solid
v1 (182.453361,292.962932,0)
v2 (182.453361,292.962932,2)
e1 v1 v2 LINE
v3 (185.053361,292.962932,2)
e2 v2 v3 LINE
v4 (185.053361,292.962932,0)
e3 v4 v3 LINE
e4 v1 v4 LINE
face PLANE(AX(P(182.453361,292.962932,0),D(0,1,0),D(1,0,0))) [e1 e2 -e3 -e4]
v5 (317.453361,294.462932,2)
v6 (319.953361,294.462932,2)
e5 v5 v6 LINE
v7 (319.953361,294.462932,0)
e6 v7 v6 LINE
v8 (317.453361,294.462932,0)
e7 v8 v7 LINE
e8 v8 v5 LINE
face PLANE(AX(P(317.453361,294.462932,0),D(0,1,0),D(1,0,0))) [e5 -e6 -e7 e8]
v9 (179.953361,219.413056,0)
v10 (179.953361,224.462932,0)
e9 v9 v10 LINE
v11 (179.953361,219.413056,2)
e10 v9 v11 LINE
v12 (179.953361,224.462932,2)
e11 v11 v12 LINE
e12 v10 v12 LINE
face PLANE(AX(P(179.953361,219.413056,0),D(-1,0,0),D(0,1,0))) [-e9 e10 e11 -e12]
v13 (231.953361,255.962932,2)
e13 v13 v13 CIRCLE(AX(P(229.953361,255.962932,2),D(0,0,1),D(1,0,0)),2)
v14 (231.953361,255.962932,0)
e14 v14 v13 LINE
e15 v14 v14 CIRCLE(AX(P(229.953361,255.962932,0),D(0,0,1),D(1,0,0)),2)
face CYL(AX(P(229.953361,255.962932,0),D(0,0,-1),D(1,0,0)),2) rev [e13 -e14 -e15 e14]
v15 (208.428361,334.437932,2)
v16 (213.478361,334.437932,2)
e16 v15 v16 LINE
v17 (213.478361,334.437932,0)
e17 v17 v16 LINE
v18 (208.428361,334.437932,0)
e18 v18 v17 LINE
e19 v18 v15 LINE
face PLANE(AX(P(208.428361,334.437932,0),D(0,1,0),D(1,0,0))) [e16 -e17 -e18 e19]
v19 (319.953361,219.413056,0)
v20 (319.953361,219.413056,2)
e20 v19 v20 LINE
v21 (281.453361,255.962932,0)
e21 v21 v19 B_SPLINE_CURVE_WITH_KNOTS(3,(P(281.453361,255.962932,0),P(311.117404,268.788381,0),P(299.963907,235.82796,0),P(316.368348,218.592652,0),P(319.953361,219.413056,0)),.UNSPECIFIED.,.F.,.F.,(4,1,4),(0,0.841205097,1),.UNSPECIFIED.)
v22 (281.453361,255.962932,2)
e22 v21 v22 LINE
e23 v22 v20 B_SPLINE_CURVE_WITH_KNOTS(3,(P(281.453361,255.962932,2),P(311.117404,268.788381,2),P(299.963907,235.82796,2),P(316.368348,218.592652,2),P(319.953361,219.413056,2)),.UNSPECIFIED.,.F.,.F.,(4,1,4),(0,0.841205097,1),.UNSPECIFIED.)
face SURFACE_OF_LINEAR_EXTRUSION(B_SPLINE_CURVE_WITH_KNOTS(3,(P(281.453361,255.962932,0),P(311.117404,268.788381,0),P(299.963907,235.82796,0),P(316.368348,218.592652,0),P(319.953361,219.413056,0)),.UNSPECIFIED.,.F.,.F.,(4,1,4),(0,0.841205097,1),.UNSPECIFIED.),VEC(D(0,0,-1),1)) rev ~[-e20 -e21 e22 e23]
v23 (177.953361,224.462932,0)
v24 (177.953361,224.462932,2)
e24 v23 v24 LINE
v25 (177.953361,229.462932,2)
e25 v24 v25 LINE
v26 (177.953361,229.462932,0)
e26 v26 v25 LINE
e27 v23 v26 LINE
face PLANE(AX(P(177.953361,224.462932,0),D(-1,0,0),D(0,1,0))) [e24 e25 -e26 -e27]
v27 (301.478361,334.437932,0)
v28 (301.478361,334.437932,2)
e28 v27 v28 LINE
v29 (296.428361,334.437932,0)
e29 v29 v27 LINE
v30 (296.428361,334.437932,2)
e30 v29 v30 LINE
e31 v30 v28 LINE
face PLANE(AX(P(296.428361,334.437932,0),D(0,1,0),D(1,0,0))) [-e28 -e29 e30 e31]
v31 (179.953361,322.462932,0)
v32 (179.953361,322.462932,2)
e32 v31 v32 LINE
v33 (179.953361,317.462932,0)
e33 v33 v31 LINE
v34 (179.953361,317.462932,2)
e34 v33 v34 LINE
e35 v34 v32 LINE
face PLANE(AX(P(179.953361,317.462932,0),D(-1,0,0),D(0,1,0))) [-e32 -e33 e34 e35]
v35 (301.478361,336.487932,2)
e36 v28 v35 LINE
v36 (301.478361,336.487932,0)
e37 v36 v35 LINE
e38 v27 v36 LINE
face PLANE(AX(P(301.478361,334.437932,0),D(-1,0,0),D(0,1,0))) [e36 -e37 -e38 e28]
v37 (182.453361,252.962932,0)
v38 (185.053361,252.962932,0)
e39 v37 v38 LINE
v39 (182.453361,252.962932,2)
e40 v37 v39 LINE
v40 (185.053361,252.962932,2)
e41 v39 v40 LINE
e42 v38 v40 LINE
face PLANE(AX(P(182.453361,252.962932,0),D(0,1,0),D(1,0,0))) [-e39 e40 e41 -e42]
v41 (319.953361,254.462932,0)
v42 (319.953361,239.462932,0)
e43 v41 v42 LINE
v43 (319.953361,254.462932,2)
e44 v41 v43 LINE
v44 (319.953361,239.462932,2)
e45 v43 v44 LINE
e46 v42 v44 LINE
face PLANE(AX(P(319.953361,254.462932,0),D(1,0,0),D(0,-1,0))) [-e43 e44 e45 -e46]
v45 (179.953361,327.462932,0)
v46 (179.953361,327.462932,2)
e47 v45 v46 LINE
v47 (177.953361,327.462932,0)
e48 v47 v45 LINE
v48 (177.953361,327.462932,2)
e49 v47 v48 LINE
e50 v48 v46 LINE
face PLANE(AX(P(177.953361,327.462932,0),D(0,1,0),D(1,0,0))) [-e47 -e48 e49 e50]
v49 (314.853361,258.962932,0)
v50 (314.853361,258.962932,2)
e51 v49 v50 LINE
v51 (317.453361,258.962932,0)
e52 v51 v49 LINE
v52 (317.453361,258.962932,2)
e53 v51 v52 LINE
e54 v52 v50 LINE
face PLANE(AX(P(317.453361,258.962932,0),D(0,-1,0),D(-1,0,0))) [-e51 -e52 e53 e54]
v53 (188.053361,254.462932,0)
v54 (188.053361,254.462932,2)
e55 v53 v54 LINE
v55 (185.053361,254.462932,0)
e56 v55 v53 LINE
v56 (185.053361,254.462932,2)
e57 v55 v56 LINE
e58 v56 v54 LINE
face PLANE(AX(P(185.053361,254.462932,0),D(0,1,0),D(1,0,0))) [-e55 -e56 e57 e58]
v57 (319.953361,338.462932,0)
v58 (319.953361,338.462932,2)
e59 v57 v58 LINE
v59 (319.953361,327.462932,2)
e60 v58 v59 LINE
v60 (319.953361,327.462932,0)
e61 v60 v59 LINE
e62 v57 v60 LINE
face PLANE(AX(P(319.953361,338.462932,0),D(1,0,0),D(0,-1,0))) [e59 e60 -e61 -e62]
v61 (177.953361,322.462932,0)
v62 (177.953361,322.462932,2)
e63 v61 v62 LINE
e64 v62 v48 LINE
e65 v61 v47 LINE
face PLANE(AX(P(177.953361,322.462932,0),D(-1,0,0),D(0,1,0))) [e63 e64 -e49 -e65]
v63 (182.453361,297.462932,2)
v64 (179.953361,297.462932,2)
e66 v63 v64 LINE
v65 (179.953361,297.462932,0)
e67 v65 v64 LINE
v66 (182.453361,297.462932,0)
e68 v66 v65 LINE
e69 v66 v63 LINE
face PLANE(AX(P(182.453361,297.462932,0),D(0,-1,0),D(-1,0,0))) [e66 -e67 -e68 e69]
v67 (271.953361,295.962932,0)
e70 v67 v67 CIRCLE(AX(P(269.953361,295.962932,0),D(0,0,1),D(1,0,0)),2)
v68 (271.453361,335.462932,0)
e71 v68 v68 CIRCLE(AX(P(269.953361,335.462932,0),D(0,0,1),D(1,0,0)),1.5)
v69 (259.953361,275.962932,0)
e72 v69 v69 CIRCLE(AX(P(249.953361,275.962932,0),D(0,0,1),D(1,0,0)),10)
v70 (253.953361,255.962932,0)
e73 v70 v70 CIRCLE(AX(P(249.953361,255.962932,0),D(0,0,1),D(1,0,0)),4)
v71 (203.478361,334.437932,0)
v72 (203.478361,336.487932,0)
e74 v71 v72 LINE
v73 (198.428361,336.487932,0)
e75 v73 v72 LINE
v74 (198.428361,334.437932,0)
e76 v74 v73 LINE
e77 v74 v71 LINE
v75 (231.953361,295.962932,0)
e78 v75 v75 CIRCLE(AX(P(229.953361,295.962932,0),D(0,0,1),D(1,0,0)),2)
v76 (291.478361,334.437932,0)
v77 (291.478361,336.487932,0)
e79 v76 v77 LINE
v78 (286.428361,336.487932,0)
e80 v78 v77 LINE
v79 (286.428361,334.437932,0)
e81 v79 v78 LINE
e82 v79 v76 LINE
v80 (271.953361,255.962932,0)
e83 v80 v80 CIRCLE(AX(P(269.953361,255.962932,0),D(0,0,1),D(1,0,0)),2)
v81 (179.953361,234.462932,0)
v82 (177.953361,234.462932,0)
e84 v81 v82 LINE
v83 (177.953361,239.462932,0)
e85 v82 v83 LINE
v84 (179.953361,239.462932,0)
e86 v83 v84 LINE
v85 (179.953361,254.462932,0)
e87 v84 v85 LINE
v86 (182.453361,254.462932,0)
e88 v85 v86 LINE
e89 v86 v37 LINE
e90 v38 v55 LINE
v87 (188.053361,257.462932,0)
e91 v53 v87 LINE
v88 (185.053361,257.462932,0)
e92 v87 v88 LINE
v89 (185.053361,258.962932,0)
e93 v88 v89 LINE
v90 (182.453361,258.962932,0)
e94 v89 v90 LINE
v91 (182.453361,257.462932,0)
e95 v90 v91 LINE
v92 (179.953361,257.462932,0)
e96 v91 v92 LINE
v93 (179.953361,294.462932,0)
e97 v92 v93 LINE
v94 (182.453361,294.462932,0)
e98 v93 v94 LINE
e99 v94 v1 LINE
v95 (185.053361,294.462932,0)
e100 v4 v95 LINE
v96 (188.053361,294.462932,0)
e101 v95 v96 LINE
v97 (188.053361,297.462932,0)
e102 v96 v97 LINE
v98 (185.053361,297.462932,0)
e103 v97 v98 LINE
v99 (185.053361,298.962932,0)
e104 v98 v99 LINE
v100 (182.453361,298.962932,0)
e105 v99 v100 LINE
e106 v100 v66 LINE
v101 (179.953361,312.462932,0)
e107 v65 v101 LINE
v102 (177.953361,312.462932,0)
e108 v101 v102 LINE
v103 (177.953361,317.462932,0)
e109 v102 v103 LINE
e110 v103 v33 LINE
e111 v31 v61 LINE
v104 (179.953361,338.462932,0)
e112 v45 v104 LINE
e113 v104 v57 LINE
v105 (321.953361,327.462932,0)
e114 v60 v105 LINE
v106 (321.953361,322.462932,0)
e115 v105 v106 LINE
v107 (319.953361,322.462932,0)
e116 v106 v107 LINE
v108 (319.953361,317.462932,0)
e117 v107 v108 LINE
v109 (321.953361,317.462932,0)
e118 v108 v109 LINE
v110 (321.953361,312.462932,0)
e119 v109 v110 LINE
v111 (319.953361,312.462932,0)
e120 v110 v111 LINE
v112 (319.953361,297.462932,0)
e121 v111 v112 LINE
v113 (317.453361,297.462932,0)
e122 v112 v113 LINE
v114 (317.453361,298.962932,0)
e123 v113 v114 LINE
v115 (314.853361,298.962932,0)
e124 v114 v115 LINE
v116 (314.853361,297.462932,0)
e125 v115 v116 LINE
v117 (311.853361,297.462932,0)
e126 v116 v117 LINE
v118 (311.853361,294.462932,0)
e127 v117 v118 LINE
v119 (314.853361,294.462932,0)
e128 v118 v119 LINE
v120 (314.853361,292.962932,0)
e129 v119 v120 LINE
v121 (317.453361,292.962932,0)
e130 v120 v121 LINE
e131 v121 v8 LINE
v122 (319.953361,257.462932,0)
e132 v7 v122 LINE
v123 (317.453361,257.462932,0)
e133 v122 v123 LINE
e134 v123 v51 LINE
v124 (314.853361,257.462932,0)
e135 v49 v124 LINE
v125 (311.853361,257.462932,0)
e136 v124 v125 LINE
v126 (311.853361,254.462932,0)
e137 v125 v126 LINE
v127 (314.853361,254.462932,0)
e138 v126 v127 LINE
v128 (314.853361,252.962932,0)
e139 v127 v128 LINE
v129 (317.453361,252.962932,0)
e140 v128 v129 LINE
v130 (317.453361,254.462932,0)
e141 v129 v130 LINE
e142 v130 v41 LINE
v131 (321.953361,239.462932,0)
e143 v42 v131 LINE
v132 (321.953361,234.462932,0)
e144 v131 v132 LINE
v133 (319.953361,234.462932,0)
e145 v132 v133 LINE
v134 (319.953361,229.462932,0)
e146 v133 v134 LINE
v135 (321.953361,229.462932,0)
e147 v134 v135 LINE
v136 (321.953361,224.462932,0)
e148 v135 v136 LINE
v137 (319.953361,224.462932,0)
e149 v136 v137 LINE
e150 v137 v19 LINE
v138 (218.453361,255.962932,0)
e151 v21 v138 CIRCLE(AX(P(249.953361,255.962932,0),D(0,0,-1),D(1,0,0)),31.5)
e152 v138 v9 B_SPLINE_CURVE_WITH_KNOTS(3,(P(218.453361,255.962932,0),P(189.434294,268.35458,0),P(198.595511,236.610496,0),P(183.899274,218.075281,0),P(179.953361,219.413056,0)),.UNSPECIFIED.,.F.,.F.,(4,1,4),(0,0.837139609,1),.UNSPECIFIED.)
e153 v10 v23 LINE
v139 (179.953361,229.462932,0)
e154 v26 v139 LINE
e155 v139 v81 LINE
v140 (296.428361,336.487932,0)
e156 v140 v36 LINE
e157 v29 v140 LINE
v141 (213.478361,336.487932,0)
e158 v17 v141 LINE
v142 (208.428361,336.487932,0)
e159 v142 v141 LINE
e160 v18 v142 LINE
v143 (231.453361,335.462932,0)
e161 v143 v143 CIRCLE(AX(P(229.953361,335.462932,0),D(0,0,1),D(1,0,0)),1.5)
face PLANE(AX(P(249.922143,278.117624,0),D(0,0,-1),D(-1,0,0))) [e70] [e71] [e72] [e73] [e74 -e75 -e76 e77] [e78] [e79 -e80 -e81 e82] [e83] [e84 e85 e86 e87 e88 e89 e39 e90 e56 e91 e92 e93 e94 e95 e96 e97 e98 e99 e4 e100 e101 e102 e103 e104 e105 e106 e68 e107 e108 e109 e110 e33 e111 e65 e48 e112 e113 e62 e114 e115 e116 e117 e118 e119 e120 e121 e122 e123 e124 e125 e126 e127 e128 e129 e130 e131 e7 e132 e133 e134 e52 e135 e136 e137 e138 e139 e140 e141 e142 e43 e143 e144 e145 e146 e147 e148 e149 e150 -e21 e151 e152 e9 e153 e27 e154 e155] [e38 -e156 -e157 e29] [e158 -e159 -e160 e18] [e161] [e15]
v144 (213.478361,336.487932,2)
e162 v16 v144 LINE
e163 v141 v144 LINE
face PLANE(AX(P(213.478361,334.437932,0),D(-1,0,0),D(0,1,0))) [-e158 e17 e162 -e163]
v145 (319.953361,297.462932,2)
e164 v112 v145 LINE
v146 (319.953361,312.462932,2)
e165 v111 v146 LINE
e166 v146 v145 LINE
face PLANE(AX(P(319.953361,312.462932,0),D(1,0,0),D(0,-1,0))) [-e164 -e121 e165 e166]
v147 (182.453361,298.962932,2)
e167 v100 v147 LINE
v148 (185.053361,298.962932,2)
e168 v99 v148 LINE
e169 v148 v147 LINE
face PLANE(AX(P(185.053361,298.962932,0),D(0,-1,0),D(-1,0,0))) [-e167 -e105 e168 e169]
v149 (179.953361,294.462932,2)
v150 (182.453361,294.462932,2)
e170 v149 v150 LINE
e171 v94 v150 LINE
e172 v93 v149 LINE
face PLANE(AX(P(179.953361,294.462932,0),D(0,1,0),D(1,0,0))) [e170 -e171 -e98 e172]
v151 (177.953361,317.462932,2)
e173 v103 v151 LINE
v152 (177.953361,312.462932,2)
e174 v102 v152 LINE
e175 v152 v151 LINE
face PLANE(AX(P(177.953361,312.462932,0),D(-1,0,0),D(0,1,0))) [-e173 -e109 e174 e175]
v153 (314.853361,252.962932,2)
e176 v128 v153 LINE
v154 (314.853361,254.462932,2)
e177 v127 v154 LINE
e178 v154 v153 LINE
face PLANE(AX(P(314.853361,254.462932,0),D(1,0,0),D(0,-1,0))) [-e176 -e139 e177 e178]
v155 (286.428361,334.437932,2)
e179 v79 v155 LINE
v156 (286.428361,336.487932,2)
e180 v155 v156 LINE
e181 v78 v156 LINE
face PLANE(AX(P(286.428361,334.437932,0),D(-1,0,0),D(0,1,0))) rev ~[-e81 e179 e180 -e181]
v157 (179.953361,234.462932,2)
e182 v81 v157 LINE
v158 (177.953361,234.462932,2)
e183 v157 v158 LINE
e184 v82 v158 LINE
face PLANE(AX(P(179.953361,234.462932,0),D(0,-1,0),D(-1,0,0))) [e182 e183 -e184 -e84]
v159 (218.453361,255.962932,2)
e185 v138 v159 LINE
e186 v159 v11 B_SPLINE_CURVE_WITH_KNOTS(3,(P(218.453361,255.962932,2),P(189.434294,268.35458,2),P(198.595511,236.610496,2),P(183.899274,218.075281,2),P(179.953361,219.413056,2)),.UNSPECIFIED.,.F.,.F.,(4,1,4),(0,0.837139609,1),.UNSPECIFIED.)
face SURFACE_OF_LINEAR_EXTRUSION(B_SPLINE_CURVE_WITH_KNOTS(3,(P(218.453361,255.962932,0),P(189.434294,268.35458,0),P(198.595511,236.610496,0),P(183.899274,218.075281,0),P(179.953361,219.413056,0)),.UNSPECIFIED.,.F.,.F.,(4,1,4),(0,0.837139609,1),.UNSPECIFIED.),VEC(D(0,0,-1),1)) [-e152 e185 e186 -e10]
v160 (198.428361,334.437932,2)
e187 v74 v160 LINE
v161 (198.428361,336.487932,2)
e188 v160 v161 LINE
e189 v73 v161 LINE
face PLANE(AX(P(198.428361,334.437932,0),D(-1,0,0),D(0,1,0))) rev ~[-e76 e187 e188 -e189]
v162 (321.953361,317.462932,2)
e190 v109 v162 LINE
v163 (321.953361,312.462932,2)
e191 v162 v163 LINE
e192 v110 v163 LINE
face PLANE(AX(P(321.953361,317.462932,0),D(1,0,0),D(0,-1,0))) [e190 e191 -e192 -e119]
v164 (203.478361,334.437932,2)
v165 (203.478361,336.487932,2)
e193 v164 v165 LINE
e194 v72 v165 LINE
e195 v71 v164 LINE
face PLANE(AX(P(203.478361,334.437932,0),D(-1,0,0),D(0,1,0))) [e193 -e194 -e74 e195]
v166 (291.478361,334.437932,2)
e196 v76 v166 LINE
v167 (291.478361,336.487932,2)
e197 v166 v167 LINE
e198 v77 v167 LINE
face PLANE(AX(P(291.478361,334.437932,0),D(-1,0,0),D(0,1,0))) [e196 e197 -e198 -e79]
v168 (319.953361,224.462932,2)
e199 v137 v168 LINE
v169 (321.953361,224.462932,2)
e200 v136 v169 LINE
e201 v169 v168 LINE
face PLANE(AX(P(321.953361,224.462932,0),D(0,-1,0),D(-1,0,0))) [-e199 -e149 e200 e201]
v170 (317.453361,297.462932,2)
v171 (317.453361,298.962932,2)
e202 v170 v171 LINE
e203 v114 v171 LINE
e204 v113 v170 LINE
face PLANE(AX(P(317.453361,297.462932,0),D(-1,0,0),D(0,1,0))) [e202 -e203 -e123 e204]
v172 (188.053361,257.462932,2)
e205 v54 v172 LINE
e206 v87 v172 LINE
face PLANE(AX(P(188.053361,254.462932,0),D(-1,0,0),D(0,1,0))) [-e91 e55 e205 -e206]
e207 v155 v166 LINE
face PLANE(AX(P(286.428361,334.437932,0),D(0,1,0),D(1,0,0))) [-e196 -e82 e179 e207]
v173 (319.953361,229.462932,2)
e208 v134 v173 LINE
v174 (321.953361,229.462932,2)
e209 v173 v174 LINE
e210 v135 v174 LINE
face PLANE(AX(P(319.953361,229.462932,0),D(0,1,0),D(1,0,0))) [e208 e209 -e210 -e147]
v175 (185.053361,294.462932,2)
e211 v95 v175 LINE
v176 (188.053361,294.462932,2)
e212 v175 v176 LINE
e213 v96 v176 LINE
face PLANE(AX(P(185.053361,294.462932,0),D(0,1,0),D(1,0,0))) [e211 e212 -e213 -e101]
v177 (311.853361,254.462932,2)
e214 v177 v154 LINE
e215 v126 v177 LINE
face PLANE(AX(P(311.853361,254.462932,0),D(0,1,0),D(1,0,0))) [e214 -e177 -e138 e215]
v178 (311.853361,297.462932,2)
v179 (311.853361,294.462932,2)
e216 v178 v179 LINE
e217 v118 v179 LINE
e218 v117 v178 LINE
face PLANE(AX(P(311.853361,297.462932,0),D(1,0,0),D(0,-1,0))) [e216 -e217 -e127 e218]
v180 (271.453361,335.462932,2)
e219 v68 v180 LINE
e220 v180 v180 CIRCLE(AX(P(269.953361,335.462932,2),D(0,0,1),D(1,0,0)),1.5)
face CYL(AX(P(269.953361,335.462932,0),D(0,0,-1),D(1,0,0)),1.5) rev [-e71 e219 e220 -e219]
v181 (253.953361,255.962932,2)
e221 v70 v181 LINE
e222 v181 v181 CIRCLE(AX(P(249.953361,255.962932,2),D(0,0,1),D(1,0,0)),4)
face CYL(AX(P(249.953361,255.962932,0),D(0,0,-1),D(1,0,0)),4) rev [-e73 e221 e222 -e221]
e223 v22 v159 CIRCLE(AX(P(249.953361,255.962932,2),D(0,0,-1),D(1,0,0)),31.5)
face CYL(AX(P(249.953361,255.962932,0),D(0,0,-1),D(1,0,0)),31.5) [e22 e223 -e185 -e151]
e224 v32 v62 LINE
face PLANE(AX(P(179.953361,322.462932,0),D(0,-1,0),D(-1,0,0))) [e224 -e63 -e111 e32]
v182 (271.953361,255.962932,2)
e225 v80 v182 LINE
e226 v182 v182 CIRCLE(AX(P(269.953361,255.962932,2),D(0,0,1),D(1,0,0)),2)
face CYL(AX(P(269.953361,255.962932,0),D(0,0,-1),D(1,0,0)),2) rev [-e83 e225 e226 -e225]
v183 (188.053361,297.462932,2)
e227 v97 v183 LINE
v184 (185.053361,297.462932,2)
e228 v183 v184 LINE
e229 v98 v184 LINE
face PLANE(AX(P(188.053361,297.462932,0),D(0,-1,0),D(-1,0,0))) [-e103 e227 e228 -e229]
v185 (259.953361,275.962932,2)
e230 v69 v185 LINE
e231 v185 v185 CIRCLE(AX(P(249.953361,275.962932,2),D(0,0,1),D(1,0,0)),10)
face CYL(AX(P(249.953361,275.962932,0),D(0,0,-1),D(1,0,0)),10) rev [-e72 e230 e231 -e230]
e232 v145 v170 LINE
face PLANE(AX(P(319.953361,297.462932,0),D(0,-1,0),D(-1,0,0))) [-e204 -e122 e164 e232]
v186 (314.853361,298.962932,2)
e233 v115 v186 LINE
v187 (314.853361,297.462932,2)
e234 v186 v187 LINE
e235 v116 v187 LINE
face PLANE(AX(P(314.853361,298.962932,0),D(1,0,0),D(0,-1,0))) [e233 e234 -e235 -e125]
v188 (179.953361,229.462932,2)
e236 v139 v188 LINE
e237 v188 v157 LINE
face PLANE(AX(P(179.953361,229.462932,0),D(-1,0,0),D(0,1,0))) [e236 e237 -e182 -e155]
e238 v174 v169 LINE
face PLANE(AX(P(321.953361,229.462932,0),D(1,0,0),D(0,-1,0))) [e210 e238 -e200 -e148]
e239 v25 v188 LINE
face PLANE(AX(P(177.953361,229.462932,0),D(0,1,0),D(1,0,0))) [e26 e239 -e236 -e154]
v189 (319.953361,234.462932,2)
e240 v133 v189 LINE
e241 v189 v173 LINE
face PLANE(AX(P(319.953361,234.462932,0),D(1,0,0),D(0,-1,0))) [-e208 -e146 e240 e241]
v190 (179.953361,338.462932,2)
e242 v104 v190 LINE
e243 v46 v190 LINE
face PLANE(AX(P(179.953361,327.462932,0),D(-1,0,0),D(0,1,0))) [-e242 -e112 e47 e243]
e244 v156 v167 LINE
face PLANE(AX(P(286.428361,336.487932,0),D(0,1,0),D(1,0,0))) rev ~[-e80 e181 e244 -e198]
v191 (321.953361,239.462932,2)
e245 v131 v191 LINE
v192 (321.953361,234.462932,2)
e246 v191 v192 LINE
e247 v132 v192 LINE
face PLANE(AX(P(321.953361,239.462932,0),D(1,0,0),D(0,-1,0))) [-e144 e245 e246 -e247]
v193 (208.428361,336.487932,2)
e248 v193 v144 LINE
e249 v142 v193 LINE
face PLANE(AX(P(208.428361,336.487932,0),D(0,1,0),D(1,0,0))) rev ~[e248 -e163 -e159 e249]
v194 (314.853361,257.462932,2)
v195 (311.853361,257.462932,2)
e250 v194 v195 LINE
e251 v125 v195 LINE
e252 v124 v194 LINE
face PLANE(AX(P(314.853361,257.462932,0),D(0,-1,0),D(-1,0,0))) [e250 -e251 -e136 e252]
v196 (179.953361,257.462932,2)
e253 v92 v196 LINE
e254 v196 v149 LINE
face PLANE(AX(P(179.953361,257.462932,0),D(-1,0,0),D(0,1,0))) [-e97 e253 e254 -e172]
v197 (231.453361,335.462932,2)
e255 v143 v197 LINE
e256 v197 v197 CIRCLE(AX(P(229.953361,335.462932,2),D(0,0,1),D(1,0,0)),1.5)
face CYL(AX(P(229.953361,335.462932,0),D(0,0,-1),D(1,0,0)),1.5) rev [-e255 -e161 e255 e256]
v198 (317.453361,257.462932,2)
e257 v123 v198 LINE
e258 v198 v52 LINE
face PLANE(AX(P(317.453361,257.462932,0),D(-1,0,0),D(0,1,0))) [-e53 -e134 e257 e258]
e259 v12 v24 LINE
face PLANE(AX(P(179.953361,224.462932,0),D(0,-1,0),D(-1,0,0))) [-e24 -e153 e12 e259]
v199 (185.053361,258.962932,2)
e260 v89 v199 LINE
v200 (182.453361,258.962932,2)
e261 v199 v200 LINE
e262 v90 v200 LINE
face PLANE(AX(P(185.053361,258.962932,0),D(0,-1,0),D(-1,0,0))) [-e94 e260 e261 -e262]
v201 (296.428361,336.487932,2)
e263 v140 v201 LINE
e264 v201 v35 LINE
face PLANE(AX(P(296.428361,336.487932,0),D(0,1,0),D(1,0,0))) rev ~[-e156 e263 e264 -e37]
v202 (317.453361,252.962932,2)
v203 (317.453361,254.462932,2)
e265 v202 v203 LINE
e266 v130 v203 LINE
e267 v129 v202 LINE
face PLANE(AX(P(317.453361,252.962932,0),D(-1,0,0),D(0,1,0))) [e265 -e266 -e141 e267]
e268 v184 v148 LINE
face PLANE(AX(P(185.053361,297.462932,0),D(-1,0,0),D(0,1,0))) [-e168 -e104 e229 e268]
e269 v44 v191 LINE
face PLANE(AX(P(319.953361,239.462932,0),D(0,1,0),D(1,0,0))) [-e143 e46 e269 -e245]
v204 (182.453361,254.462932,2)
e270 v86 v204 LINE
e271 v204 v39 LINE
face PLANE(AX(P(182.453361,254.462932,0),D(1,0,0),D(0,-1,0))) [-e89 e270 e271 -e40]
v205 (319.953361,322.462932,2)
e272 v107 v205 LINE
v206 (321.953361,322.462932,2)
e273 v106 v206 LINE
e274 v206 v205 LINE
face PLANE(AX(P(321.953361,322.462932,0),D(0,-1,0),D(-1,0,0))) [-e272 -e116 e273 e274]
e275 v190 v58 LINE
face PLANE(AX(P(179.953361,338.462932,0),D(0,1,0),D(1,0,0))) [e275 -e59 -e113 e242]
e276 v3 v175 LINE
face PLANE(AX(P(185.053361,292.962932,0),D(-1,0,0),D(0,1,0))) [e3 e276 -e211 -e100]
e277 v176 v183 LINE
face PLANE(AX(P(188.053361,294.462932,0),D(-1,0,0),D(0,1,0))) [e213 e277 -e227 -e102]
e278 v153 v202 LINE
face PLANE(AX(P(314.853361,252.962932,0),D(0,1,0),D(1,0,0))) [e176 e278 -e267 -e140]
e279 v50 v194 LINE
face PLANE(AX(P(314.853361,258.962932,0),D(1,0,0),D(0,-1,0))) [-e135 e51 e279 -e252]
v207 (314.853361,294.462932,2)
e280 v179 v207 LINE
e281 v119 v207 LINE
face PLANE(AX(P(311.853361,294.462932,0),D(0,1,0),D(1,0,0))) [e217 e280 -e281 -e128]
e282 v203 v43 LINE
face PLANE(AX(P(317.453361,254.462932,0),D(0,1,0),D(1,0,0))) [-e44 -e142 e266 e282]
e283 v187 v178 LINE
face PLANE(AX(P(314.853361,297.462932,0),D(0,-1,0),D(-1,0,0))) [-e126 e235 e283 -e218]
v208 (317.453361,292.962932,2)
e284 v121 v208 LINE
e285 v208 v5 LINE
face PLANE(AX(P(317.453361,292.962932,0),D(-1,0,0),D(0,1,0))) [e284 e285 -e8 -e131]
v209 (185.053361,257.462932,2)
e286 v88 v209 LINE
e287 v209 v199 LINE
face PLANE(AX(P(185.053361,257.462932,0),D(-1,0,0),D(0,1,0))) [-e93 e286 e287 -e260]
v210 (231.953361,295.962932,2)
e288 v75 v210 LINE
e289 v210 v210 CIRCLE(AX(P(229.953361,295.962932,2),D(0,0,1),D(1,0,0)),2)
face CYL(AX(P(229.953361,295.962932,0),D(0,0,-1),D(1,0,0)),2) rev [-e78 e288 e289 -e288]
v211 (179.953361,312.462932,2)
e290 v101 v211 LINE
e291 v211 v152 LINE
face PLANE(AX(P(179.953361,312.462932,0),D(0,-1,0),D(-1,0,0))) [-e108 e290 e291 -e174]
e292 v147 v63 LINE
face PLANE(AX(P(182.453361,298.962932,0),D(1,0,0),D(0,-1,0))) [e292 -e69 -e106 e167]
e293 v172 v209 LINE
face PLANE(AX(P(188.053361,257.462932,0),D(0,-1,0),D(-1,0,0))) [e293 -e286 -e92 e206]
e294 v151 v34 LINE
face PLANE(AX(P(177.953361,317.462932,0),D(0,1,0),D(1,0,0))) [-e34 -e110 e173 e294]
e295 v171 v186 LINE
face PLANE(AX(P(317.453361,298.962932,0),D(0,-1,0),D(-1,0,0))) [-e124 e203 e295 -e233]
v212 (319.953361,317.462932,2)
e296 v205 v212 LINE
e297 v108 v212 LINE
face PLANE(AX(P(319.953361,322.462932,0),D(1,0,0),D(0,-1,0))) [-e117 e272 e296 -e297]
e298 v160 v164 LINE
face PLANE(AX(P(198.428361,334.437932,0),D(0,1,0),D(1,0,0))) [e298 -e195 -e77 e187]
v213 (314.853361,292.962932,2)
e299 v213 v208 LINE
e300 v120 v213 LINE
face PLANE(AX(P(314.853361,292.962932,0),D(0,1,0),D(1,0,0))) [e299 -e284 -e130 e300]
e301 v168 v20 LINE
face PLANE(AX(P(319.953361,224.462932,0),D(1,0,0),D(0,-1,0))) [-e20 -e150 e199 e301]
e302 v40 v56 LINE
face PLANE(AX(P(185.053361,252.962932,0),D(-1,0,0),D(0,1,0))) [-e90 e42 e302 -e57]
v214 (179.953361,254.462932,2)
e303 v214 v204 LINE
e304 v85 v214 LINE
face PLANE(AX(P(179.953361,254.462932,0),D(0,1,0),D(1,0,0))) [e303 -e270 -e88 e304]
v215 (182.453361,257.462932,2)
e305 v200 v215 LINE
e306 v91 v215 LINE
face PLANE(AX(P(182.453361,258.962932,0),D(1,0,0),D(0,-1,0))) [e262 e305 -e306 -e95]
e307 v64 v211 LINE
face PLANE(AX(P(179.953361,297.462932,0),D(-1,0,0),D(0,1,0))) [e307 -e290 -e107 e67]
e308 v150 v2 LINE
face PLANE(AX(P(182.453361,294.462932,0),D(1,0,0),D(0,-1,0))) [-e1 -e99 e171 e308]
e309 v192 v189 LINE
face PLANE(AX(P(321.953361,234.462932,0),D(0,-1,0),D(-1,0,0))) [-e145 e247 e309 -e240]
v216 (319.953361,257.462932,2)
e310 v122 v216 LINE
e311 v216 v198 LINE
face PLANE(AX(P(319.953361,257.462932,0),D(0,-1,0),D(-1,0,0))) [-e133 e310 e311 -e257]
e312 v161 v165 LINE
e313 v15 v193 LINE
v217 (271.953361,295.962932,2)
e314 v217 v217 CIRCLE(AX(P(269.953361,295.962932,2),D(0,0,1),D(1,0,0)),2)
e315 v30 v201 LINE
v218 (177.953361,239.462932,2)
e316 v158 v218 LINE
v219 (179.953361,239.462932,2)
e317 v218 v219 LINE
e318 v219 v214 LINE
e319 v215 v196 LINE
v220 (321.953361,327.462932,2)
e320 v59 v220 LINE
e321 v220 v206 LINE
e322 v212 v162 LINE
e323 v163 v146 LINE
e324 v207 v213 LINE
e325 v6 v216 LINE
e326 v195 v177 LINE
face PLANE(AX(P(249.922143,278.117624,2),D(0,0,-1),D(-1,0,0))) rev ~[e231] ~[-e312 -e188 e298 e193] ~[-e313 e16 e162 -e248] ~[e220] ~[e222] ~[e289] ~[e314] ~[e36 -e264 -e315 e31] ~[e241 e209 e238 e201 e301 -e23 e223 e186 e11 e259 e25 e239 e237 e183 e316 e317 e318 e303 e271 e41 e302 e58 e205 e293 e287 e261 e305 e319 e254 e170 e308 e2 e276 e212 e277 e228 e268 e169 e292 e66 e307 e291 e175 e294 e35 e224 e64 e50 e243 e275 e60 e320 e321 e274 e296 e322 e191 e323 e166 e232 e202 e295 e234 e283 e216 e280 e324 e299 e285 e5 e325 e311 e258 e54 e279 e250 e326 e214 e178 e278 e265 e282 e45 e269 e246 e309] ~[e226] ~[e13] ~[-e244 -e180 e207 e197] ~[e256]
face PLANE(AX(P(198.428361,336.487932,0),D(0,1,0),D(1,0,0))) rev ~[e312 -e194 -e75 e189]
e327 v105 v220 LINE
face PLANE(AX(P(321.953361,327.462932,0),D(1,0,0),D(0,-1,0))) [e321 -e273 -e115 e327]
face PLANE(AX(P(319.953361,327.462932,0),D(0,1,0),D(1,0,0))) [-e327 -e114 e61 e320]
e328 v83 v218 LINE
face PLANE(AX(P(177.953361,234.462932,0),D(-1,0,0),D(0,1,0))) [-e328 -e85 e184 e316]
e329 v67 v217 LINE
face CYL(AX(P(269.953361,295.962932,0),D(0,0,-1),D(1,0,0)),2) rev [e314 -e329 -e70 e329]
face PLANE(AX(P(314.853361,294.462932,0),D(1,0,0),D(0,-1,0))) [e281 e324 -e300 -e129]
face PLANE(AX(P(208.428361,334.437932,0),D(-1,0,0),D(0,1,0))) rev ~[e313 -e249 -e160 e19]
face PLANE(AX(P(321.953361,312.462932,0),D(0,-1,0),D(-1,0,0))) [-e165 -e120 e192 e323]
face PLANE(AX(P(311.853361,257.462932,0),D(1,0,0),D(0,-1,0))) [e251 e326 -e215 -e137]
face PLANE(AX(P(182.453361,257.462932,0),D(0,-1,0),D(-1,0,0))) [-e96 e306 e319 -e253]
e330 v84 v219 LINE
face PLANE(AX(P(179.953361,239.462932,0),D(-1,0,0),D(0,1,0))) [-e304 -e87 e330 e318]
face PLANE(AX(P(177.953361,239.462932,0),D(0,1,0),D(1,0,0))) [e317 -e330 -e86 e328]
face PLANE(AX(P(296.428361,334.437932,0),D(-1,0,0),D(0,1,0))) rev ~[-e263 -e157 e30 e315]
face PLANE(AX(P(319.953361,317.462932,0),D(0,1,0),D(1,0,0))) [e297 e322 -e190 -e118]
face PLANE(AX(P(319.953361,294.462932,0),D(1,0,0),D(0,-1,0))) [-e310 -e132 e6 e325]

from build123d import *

# Parameters (mm, degrees)
SKETCH_1_R      = 10
SKETCH_1_R_2    = 4
SKETCH_1_R_3    = 1.5
SKETCH_1_R_4    = 2
SKETCH_1_W      = 5.05
SKETCH_1_H      = 2.05
EXTRUDE_1_DEPTH = 2


with BuildPart() as part:
    # 草图1 → 凸台-拉伸1 (new body)
    with BuildSketch(Plane.XY):
        with BuildLine():
            Line((317.453360513, 257.462931603), (317.453360513, 258.962931603))
            Line((317.453360513, 258.962931603), (314.853360513, 258.962931603))
            Line((314.853360513, 258.962931603), (314.853360513, 257.462931603))
            Line((314.853360513, 257.462931603), (311.853360513, 257.462931603))
            Line((311.853360513, 257.462931603), (311.853360513, 254.462931603))
            Line((311.853360513, 254.462931603), (314.853360513, 254.462931603))
            Line((314.853360513, 254.462931603), (314.853360513, 252.962931603))
            Line((314.853360513, 252.962931603), (317.453360513, 252.962931603))
            Line((317.453360513, 252.962931603), (317.453360513, 254.462931603))
            Line((317.453360513, 254.462931603), (319.953360513, 254.462931603))
            Line((319.953360513, 254.462931603), (319.953360513, 239.462931603))
            Line((319.953360513, 239.462931603), (321.953360513, 239.462931603))
            Line((321.953360513, 239.462931603), (321.953360513, 234.462931603))
            Line((321.953360513, 234.462931603), (319.953360513, 234.462931603))
            Line((319.953360513, 234.462931603), (319.953360513, 229.462931603))
            Line((319.953360513, 229.462931603), (321.953360513, 229.462931603))
            Line((321.953360513, 229.462931603), (321.953360513, 224.462931603))
            Line((321.953360513, 224.462931603), (319.953360513, 224.462931603))
            Line((319.953360513, 224.462931603), (319.953360513, 219.413055772))
            add(Edge.make_bspline(
                [(281.453360513, 255.962931603), (311.117403984, 268.788380876), (299.963906714, 235.827960028), (316.368347708, 218.592651753), (319.953360513, 219.413055772)],
                knots=[0, 0, 0, 0, 0.841205097, 1, 1, 1, 1], degree=3))
            ThreePointArc((281.453360513, 255.962931603), (249.953360513, 224.462931603), (218.453360513, 255.962931603))
            add(Edge.make_bspline(
                [(218.453360513, 255.962931603), (189.43429352, 268.354580122), (198.595511202, 236.610496326), (183.899274023, 218.075281385), (179.953360513, 219.413055772)],
                knots=[0, 0, 0, 0, 0.837139609, 1, 1, 1, 1], degree=3))
            Line((179.953360513, 219.413055772), (179.953360513, 224.462931603))
            Line((179.953360513, 224.462931603), (177.953360513, 224.462931603))
            Line((177.953360513, 224.462931603), (177.953360513, 229.462931603))
            Line((177.953360513, 229.462931603), (179.953360513, 229.462931603))
            Line((179.953360513, 229.462931603), (179.953360513, 234.462931603))
            Line((179.953360513, 234.462931603), (177.953360513, 234.462931603))
            Line((177.953360513, 234.462931603), (177.953360513, 239.462931603))
            Line((177.953360513, 239.462931603), (179.953360513, 239.462931603))
            Line((179.953360513, 239.462931603), (179.953360513, 254.462931603))
            Line((179.953360513, 254.462931603), (182.453360513, 254.462931603))
            Line((182.453360513, 254.462931603), (182.453360513, 252.962931602))
            Line((182.453360513, 252.962931602), (185.053360513, 252.962931602))
            Line((185.053360513, 252.962931602), (185.053360513, 254.462931603))
            Line((185.053360513, 254.462931603), (188.053360513, 254.462931603))
            Line((188.053360513, 254.462931603), (188.053360513, 257.462931603))
            Line((188.053360513, 257.462931603), (185.053360513, 257.462931603))
            Line((185.053360513, 257.462931603), (185.053360513, 258.962931602))
            Line((185.053360513, 258.962931602), (182.453360513, 258.962931602))
            Line((182.453360513, 258.962931602), (182.453360513, 257.462931603))
            Line((182.453360513, 257.462931603), (179.953360513, 257.462931603))
            Line((179.953360513, 257.462931603), (179.953360513, 294.462931603))
            Line((179.953360513, 294.462931603), (182.453360513, 294.462931603))
            Line((182.453360513, 294.462931603), (182.453360513, 292.962931603))
            Line((182.453360513, 292.962931603), (185.053360513, 292.962931603))
            Line((185.053360513, 292.962931603), (185.053360513, 294.462931603))
            Line((185.053360513, 294.462931603), (188.053360513, 294.462931603))
            Line((188.053360513, 294.462931603), (188.053360513, 297.462931603))
            Line((188.053360513, 297.462931603), (185.053360513, 297.462931603))
            Line((185.053360513, 297.462931603), (185.053360513, 298.962931603))
            Line((185.053360513, 298.962931603), (182.453360513, 298.962931603))
            Line((182.453360513, 298.962931603), (182.453360513, 297.462931603))
            Line((182.453360513, 297.462931603), (179.953360513, 297.462931603))
            Line((179.953360513, 297.462931603), (179.953360513, 312.462931603))
            Line((179.953360513, 312.462931603), (177.953360513, 312.462931603))
            Line((177.953360513, 312.462931603), (177.953360513, 317.462931603))
            Line((177.953360513, 317.462931603), (179.953360513, 317.462931603))
            Line((179.953360513, 317.462931603), (179.953360513, 322.462931603))
            Line((179.953360513, 322.462931603), (177.953360513, 322.462931603))
            Line((177.953360513, 322.462931603), (177.953360513, 327.462931603))
            Line((177.953360513, 327.462931603), (179.953360513, 327.462931603))
            Line((179.953360513, 327.462931603), (179.953360513, 338.462931603))
            Line((179.953360513, 338.462931603), (319.953360513, 338.462931603))
            Line((319.953360513, 338.462931603), (319.953360513, 327.462931603))
            Line((319.953360513, 327.462931603), (321.953360513, 327.462931603))
            Line((321.953360513, 327.462931603), (321.953360513, 322.462931603))
            Line((321.953360513, 322.462931603), (319.953360513, 322.462931603))
            Line((319.953360513, 322.462931603), (319.953360513, 317.462931603))
            Line((319.953360513, 317.462931603), (321.953360513, 317.462931603))
            Line((321.953360513, 317.462931603), (321.953360513, 312.462931603))
            Line((321.953360513, 312.462931603), (319.953360513, 312.462931603))
            Line((319.953360513, 312.462931603), (319.953360513, 297.462931603))
            Line((319.953360513, 297.462931603), (317.453360513, 297.462931603))
            Line((317.453360513, 297.462931603), (317.453360513, 298.962931603))
            Line((317.453360513, 298.962931603), (314.853360513, 298.962931603))
            Line((314.853360513, 298.962931603), (314.853360513, 297.462931603))
            Line((314.853360513, 297.462931603), (311.853360513, 297.462931603))
            Line((311.853360513, 297.462931603), (311.853360513, 294.462931603))
            Line((311.853360513, 294.462931603), (314.853360513, 294.462931603))
            Line((314.853360513, 294.462931603), (314.853360513, 292.962931603))
            Line((314.853360513, 292.962931603), (317.453360513, 292.962931603))
            Line((317.453360513, 292.962931603), (317.453360513, 294.462931603))
            Line((317.453360513, 294.462931603), (319.953360513, 294.462931603))
            Line((319.953360513, 294.462931603), (319.953360513, 257.462931603))
            Line((319.953360513, 257.462931603), (317.453360513, 257.462931603))
        make_face()
        with Locations((249.953360513, 275.962931603)):
            Circle(SKETCH_1_R, mode=Mode.SUBTRACT)
        with Locations((249.953360513, 255.962931603)):
            Circle(SKETCH_1_R_2, mode=Mode.SUBTRACT)
        with Locations((229.953360513, 335.462931603)):
            Circle(SKETCH_1_R_3, mode=Mode.SUBTRACT)
        with Locations((269.953360513, 335.462931603)):
            Circle(SKETCH_1_R_3, mode=Mode.SUBTRACT)
        with Locations((229.953360513, 255.962931603)):
            Circle(SKETCH_1_R_4, mode=Mode.SUBTRACT)
        with Locations((229.953360513, 295.962931603)):
            Circle(SKETCH_1_R_4, mode=Mode.SUBTRACT)
        with Locations((269.953360513, 295.962931603)):
            Circle(SKETCH_1_R_4, mode=Mode.SUBTRACT)
        with Locations((269.953360513, 255.962931603)):
            Circle(SKETCH_1_R_4, mode=Mode.SUBTRACT)
        with Locations((288.953360513, 335.462931603)):
            Rectangle(SKETCH_1_W, SKETCH_1_H, mode=Mode.SUBTRACT)
        with Locations((298.953360513, 335.462931603)):
            Rectangle(SKETCH_1_W, SKETCH_1_H, mode=Mode.SUBTRACT)
        with Locations((200.953360513, 335.462931603)):
            Rectangle(SKETCH_1_W, SKETCH_1_H, mode=Mode.SUBTRACT)
        with Locations((210.953360513, 335.462931603)):
            Rectangle(SKETCH_1_W, SKETCH_1_H, mode=Mode.SUBTRACT)
    extrude(amount=EXTRUDE_1_DEPTH)


solid = part.part
